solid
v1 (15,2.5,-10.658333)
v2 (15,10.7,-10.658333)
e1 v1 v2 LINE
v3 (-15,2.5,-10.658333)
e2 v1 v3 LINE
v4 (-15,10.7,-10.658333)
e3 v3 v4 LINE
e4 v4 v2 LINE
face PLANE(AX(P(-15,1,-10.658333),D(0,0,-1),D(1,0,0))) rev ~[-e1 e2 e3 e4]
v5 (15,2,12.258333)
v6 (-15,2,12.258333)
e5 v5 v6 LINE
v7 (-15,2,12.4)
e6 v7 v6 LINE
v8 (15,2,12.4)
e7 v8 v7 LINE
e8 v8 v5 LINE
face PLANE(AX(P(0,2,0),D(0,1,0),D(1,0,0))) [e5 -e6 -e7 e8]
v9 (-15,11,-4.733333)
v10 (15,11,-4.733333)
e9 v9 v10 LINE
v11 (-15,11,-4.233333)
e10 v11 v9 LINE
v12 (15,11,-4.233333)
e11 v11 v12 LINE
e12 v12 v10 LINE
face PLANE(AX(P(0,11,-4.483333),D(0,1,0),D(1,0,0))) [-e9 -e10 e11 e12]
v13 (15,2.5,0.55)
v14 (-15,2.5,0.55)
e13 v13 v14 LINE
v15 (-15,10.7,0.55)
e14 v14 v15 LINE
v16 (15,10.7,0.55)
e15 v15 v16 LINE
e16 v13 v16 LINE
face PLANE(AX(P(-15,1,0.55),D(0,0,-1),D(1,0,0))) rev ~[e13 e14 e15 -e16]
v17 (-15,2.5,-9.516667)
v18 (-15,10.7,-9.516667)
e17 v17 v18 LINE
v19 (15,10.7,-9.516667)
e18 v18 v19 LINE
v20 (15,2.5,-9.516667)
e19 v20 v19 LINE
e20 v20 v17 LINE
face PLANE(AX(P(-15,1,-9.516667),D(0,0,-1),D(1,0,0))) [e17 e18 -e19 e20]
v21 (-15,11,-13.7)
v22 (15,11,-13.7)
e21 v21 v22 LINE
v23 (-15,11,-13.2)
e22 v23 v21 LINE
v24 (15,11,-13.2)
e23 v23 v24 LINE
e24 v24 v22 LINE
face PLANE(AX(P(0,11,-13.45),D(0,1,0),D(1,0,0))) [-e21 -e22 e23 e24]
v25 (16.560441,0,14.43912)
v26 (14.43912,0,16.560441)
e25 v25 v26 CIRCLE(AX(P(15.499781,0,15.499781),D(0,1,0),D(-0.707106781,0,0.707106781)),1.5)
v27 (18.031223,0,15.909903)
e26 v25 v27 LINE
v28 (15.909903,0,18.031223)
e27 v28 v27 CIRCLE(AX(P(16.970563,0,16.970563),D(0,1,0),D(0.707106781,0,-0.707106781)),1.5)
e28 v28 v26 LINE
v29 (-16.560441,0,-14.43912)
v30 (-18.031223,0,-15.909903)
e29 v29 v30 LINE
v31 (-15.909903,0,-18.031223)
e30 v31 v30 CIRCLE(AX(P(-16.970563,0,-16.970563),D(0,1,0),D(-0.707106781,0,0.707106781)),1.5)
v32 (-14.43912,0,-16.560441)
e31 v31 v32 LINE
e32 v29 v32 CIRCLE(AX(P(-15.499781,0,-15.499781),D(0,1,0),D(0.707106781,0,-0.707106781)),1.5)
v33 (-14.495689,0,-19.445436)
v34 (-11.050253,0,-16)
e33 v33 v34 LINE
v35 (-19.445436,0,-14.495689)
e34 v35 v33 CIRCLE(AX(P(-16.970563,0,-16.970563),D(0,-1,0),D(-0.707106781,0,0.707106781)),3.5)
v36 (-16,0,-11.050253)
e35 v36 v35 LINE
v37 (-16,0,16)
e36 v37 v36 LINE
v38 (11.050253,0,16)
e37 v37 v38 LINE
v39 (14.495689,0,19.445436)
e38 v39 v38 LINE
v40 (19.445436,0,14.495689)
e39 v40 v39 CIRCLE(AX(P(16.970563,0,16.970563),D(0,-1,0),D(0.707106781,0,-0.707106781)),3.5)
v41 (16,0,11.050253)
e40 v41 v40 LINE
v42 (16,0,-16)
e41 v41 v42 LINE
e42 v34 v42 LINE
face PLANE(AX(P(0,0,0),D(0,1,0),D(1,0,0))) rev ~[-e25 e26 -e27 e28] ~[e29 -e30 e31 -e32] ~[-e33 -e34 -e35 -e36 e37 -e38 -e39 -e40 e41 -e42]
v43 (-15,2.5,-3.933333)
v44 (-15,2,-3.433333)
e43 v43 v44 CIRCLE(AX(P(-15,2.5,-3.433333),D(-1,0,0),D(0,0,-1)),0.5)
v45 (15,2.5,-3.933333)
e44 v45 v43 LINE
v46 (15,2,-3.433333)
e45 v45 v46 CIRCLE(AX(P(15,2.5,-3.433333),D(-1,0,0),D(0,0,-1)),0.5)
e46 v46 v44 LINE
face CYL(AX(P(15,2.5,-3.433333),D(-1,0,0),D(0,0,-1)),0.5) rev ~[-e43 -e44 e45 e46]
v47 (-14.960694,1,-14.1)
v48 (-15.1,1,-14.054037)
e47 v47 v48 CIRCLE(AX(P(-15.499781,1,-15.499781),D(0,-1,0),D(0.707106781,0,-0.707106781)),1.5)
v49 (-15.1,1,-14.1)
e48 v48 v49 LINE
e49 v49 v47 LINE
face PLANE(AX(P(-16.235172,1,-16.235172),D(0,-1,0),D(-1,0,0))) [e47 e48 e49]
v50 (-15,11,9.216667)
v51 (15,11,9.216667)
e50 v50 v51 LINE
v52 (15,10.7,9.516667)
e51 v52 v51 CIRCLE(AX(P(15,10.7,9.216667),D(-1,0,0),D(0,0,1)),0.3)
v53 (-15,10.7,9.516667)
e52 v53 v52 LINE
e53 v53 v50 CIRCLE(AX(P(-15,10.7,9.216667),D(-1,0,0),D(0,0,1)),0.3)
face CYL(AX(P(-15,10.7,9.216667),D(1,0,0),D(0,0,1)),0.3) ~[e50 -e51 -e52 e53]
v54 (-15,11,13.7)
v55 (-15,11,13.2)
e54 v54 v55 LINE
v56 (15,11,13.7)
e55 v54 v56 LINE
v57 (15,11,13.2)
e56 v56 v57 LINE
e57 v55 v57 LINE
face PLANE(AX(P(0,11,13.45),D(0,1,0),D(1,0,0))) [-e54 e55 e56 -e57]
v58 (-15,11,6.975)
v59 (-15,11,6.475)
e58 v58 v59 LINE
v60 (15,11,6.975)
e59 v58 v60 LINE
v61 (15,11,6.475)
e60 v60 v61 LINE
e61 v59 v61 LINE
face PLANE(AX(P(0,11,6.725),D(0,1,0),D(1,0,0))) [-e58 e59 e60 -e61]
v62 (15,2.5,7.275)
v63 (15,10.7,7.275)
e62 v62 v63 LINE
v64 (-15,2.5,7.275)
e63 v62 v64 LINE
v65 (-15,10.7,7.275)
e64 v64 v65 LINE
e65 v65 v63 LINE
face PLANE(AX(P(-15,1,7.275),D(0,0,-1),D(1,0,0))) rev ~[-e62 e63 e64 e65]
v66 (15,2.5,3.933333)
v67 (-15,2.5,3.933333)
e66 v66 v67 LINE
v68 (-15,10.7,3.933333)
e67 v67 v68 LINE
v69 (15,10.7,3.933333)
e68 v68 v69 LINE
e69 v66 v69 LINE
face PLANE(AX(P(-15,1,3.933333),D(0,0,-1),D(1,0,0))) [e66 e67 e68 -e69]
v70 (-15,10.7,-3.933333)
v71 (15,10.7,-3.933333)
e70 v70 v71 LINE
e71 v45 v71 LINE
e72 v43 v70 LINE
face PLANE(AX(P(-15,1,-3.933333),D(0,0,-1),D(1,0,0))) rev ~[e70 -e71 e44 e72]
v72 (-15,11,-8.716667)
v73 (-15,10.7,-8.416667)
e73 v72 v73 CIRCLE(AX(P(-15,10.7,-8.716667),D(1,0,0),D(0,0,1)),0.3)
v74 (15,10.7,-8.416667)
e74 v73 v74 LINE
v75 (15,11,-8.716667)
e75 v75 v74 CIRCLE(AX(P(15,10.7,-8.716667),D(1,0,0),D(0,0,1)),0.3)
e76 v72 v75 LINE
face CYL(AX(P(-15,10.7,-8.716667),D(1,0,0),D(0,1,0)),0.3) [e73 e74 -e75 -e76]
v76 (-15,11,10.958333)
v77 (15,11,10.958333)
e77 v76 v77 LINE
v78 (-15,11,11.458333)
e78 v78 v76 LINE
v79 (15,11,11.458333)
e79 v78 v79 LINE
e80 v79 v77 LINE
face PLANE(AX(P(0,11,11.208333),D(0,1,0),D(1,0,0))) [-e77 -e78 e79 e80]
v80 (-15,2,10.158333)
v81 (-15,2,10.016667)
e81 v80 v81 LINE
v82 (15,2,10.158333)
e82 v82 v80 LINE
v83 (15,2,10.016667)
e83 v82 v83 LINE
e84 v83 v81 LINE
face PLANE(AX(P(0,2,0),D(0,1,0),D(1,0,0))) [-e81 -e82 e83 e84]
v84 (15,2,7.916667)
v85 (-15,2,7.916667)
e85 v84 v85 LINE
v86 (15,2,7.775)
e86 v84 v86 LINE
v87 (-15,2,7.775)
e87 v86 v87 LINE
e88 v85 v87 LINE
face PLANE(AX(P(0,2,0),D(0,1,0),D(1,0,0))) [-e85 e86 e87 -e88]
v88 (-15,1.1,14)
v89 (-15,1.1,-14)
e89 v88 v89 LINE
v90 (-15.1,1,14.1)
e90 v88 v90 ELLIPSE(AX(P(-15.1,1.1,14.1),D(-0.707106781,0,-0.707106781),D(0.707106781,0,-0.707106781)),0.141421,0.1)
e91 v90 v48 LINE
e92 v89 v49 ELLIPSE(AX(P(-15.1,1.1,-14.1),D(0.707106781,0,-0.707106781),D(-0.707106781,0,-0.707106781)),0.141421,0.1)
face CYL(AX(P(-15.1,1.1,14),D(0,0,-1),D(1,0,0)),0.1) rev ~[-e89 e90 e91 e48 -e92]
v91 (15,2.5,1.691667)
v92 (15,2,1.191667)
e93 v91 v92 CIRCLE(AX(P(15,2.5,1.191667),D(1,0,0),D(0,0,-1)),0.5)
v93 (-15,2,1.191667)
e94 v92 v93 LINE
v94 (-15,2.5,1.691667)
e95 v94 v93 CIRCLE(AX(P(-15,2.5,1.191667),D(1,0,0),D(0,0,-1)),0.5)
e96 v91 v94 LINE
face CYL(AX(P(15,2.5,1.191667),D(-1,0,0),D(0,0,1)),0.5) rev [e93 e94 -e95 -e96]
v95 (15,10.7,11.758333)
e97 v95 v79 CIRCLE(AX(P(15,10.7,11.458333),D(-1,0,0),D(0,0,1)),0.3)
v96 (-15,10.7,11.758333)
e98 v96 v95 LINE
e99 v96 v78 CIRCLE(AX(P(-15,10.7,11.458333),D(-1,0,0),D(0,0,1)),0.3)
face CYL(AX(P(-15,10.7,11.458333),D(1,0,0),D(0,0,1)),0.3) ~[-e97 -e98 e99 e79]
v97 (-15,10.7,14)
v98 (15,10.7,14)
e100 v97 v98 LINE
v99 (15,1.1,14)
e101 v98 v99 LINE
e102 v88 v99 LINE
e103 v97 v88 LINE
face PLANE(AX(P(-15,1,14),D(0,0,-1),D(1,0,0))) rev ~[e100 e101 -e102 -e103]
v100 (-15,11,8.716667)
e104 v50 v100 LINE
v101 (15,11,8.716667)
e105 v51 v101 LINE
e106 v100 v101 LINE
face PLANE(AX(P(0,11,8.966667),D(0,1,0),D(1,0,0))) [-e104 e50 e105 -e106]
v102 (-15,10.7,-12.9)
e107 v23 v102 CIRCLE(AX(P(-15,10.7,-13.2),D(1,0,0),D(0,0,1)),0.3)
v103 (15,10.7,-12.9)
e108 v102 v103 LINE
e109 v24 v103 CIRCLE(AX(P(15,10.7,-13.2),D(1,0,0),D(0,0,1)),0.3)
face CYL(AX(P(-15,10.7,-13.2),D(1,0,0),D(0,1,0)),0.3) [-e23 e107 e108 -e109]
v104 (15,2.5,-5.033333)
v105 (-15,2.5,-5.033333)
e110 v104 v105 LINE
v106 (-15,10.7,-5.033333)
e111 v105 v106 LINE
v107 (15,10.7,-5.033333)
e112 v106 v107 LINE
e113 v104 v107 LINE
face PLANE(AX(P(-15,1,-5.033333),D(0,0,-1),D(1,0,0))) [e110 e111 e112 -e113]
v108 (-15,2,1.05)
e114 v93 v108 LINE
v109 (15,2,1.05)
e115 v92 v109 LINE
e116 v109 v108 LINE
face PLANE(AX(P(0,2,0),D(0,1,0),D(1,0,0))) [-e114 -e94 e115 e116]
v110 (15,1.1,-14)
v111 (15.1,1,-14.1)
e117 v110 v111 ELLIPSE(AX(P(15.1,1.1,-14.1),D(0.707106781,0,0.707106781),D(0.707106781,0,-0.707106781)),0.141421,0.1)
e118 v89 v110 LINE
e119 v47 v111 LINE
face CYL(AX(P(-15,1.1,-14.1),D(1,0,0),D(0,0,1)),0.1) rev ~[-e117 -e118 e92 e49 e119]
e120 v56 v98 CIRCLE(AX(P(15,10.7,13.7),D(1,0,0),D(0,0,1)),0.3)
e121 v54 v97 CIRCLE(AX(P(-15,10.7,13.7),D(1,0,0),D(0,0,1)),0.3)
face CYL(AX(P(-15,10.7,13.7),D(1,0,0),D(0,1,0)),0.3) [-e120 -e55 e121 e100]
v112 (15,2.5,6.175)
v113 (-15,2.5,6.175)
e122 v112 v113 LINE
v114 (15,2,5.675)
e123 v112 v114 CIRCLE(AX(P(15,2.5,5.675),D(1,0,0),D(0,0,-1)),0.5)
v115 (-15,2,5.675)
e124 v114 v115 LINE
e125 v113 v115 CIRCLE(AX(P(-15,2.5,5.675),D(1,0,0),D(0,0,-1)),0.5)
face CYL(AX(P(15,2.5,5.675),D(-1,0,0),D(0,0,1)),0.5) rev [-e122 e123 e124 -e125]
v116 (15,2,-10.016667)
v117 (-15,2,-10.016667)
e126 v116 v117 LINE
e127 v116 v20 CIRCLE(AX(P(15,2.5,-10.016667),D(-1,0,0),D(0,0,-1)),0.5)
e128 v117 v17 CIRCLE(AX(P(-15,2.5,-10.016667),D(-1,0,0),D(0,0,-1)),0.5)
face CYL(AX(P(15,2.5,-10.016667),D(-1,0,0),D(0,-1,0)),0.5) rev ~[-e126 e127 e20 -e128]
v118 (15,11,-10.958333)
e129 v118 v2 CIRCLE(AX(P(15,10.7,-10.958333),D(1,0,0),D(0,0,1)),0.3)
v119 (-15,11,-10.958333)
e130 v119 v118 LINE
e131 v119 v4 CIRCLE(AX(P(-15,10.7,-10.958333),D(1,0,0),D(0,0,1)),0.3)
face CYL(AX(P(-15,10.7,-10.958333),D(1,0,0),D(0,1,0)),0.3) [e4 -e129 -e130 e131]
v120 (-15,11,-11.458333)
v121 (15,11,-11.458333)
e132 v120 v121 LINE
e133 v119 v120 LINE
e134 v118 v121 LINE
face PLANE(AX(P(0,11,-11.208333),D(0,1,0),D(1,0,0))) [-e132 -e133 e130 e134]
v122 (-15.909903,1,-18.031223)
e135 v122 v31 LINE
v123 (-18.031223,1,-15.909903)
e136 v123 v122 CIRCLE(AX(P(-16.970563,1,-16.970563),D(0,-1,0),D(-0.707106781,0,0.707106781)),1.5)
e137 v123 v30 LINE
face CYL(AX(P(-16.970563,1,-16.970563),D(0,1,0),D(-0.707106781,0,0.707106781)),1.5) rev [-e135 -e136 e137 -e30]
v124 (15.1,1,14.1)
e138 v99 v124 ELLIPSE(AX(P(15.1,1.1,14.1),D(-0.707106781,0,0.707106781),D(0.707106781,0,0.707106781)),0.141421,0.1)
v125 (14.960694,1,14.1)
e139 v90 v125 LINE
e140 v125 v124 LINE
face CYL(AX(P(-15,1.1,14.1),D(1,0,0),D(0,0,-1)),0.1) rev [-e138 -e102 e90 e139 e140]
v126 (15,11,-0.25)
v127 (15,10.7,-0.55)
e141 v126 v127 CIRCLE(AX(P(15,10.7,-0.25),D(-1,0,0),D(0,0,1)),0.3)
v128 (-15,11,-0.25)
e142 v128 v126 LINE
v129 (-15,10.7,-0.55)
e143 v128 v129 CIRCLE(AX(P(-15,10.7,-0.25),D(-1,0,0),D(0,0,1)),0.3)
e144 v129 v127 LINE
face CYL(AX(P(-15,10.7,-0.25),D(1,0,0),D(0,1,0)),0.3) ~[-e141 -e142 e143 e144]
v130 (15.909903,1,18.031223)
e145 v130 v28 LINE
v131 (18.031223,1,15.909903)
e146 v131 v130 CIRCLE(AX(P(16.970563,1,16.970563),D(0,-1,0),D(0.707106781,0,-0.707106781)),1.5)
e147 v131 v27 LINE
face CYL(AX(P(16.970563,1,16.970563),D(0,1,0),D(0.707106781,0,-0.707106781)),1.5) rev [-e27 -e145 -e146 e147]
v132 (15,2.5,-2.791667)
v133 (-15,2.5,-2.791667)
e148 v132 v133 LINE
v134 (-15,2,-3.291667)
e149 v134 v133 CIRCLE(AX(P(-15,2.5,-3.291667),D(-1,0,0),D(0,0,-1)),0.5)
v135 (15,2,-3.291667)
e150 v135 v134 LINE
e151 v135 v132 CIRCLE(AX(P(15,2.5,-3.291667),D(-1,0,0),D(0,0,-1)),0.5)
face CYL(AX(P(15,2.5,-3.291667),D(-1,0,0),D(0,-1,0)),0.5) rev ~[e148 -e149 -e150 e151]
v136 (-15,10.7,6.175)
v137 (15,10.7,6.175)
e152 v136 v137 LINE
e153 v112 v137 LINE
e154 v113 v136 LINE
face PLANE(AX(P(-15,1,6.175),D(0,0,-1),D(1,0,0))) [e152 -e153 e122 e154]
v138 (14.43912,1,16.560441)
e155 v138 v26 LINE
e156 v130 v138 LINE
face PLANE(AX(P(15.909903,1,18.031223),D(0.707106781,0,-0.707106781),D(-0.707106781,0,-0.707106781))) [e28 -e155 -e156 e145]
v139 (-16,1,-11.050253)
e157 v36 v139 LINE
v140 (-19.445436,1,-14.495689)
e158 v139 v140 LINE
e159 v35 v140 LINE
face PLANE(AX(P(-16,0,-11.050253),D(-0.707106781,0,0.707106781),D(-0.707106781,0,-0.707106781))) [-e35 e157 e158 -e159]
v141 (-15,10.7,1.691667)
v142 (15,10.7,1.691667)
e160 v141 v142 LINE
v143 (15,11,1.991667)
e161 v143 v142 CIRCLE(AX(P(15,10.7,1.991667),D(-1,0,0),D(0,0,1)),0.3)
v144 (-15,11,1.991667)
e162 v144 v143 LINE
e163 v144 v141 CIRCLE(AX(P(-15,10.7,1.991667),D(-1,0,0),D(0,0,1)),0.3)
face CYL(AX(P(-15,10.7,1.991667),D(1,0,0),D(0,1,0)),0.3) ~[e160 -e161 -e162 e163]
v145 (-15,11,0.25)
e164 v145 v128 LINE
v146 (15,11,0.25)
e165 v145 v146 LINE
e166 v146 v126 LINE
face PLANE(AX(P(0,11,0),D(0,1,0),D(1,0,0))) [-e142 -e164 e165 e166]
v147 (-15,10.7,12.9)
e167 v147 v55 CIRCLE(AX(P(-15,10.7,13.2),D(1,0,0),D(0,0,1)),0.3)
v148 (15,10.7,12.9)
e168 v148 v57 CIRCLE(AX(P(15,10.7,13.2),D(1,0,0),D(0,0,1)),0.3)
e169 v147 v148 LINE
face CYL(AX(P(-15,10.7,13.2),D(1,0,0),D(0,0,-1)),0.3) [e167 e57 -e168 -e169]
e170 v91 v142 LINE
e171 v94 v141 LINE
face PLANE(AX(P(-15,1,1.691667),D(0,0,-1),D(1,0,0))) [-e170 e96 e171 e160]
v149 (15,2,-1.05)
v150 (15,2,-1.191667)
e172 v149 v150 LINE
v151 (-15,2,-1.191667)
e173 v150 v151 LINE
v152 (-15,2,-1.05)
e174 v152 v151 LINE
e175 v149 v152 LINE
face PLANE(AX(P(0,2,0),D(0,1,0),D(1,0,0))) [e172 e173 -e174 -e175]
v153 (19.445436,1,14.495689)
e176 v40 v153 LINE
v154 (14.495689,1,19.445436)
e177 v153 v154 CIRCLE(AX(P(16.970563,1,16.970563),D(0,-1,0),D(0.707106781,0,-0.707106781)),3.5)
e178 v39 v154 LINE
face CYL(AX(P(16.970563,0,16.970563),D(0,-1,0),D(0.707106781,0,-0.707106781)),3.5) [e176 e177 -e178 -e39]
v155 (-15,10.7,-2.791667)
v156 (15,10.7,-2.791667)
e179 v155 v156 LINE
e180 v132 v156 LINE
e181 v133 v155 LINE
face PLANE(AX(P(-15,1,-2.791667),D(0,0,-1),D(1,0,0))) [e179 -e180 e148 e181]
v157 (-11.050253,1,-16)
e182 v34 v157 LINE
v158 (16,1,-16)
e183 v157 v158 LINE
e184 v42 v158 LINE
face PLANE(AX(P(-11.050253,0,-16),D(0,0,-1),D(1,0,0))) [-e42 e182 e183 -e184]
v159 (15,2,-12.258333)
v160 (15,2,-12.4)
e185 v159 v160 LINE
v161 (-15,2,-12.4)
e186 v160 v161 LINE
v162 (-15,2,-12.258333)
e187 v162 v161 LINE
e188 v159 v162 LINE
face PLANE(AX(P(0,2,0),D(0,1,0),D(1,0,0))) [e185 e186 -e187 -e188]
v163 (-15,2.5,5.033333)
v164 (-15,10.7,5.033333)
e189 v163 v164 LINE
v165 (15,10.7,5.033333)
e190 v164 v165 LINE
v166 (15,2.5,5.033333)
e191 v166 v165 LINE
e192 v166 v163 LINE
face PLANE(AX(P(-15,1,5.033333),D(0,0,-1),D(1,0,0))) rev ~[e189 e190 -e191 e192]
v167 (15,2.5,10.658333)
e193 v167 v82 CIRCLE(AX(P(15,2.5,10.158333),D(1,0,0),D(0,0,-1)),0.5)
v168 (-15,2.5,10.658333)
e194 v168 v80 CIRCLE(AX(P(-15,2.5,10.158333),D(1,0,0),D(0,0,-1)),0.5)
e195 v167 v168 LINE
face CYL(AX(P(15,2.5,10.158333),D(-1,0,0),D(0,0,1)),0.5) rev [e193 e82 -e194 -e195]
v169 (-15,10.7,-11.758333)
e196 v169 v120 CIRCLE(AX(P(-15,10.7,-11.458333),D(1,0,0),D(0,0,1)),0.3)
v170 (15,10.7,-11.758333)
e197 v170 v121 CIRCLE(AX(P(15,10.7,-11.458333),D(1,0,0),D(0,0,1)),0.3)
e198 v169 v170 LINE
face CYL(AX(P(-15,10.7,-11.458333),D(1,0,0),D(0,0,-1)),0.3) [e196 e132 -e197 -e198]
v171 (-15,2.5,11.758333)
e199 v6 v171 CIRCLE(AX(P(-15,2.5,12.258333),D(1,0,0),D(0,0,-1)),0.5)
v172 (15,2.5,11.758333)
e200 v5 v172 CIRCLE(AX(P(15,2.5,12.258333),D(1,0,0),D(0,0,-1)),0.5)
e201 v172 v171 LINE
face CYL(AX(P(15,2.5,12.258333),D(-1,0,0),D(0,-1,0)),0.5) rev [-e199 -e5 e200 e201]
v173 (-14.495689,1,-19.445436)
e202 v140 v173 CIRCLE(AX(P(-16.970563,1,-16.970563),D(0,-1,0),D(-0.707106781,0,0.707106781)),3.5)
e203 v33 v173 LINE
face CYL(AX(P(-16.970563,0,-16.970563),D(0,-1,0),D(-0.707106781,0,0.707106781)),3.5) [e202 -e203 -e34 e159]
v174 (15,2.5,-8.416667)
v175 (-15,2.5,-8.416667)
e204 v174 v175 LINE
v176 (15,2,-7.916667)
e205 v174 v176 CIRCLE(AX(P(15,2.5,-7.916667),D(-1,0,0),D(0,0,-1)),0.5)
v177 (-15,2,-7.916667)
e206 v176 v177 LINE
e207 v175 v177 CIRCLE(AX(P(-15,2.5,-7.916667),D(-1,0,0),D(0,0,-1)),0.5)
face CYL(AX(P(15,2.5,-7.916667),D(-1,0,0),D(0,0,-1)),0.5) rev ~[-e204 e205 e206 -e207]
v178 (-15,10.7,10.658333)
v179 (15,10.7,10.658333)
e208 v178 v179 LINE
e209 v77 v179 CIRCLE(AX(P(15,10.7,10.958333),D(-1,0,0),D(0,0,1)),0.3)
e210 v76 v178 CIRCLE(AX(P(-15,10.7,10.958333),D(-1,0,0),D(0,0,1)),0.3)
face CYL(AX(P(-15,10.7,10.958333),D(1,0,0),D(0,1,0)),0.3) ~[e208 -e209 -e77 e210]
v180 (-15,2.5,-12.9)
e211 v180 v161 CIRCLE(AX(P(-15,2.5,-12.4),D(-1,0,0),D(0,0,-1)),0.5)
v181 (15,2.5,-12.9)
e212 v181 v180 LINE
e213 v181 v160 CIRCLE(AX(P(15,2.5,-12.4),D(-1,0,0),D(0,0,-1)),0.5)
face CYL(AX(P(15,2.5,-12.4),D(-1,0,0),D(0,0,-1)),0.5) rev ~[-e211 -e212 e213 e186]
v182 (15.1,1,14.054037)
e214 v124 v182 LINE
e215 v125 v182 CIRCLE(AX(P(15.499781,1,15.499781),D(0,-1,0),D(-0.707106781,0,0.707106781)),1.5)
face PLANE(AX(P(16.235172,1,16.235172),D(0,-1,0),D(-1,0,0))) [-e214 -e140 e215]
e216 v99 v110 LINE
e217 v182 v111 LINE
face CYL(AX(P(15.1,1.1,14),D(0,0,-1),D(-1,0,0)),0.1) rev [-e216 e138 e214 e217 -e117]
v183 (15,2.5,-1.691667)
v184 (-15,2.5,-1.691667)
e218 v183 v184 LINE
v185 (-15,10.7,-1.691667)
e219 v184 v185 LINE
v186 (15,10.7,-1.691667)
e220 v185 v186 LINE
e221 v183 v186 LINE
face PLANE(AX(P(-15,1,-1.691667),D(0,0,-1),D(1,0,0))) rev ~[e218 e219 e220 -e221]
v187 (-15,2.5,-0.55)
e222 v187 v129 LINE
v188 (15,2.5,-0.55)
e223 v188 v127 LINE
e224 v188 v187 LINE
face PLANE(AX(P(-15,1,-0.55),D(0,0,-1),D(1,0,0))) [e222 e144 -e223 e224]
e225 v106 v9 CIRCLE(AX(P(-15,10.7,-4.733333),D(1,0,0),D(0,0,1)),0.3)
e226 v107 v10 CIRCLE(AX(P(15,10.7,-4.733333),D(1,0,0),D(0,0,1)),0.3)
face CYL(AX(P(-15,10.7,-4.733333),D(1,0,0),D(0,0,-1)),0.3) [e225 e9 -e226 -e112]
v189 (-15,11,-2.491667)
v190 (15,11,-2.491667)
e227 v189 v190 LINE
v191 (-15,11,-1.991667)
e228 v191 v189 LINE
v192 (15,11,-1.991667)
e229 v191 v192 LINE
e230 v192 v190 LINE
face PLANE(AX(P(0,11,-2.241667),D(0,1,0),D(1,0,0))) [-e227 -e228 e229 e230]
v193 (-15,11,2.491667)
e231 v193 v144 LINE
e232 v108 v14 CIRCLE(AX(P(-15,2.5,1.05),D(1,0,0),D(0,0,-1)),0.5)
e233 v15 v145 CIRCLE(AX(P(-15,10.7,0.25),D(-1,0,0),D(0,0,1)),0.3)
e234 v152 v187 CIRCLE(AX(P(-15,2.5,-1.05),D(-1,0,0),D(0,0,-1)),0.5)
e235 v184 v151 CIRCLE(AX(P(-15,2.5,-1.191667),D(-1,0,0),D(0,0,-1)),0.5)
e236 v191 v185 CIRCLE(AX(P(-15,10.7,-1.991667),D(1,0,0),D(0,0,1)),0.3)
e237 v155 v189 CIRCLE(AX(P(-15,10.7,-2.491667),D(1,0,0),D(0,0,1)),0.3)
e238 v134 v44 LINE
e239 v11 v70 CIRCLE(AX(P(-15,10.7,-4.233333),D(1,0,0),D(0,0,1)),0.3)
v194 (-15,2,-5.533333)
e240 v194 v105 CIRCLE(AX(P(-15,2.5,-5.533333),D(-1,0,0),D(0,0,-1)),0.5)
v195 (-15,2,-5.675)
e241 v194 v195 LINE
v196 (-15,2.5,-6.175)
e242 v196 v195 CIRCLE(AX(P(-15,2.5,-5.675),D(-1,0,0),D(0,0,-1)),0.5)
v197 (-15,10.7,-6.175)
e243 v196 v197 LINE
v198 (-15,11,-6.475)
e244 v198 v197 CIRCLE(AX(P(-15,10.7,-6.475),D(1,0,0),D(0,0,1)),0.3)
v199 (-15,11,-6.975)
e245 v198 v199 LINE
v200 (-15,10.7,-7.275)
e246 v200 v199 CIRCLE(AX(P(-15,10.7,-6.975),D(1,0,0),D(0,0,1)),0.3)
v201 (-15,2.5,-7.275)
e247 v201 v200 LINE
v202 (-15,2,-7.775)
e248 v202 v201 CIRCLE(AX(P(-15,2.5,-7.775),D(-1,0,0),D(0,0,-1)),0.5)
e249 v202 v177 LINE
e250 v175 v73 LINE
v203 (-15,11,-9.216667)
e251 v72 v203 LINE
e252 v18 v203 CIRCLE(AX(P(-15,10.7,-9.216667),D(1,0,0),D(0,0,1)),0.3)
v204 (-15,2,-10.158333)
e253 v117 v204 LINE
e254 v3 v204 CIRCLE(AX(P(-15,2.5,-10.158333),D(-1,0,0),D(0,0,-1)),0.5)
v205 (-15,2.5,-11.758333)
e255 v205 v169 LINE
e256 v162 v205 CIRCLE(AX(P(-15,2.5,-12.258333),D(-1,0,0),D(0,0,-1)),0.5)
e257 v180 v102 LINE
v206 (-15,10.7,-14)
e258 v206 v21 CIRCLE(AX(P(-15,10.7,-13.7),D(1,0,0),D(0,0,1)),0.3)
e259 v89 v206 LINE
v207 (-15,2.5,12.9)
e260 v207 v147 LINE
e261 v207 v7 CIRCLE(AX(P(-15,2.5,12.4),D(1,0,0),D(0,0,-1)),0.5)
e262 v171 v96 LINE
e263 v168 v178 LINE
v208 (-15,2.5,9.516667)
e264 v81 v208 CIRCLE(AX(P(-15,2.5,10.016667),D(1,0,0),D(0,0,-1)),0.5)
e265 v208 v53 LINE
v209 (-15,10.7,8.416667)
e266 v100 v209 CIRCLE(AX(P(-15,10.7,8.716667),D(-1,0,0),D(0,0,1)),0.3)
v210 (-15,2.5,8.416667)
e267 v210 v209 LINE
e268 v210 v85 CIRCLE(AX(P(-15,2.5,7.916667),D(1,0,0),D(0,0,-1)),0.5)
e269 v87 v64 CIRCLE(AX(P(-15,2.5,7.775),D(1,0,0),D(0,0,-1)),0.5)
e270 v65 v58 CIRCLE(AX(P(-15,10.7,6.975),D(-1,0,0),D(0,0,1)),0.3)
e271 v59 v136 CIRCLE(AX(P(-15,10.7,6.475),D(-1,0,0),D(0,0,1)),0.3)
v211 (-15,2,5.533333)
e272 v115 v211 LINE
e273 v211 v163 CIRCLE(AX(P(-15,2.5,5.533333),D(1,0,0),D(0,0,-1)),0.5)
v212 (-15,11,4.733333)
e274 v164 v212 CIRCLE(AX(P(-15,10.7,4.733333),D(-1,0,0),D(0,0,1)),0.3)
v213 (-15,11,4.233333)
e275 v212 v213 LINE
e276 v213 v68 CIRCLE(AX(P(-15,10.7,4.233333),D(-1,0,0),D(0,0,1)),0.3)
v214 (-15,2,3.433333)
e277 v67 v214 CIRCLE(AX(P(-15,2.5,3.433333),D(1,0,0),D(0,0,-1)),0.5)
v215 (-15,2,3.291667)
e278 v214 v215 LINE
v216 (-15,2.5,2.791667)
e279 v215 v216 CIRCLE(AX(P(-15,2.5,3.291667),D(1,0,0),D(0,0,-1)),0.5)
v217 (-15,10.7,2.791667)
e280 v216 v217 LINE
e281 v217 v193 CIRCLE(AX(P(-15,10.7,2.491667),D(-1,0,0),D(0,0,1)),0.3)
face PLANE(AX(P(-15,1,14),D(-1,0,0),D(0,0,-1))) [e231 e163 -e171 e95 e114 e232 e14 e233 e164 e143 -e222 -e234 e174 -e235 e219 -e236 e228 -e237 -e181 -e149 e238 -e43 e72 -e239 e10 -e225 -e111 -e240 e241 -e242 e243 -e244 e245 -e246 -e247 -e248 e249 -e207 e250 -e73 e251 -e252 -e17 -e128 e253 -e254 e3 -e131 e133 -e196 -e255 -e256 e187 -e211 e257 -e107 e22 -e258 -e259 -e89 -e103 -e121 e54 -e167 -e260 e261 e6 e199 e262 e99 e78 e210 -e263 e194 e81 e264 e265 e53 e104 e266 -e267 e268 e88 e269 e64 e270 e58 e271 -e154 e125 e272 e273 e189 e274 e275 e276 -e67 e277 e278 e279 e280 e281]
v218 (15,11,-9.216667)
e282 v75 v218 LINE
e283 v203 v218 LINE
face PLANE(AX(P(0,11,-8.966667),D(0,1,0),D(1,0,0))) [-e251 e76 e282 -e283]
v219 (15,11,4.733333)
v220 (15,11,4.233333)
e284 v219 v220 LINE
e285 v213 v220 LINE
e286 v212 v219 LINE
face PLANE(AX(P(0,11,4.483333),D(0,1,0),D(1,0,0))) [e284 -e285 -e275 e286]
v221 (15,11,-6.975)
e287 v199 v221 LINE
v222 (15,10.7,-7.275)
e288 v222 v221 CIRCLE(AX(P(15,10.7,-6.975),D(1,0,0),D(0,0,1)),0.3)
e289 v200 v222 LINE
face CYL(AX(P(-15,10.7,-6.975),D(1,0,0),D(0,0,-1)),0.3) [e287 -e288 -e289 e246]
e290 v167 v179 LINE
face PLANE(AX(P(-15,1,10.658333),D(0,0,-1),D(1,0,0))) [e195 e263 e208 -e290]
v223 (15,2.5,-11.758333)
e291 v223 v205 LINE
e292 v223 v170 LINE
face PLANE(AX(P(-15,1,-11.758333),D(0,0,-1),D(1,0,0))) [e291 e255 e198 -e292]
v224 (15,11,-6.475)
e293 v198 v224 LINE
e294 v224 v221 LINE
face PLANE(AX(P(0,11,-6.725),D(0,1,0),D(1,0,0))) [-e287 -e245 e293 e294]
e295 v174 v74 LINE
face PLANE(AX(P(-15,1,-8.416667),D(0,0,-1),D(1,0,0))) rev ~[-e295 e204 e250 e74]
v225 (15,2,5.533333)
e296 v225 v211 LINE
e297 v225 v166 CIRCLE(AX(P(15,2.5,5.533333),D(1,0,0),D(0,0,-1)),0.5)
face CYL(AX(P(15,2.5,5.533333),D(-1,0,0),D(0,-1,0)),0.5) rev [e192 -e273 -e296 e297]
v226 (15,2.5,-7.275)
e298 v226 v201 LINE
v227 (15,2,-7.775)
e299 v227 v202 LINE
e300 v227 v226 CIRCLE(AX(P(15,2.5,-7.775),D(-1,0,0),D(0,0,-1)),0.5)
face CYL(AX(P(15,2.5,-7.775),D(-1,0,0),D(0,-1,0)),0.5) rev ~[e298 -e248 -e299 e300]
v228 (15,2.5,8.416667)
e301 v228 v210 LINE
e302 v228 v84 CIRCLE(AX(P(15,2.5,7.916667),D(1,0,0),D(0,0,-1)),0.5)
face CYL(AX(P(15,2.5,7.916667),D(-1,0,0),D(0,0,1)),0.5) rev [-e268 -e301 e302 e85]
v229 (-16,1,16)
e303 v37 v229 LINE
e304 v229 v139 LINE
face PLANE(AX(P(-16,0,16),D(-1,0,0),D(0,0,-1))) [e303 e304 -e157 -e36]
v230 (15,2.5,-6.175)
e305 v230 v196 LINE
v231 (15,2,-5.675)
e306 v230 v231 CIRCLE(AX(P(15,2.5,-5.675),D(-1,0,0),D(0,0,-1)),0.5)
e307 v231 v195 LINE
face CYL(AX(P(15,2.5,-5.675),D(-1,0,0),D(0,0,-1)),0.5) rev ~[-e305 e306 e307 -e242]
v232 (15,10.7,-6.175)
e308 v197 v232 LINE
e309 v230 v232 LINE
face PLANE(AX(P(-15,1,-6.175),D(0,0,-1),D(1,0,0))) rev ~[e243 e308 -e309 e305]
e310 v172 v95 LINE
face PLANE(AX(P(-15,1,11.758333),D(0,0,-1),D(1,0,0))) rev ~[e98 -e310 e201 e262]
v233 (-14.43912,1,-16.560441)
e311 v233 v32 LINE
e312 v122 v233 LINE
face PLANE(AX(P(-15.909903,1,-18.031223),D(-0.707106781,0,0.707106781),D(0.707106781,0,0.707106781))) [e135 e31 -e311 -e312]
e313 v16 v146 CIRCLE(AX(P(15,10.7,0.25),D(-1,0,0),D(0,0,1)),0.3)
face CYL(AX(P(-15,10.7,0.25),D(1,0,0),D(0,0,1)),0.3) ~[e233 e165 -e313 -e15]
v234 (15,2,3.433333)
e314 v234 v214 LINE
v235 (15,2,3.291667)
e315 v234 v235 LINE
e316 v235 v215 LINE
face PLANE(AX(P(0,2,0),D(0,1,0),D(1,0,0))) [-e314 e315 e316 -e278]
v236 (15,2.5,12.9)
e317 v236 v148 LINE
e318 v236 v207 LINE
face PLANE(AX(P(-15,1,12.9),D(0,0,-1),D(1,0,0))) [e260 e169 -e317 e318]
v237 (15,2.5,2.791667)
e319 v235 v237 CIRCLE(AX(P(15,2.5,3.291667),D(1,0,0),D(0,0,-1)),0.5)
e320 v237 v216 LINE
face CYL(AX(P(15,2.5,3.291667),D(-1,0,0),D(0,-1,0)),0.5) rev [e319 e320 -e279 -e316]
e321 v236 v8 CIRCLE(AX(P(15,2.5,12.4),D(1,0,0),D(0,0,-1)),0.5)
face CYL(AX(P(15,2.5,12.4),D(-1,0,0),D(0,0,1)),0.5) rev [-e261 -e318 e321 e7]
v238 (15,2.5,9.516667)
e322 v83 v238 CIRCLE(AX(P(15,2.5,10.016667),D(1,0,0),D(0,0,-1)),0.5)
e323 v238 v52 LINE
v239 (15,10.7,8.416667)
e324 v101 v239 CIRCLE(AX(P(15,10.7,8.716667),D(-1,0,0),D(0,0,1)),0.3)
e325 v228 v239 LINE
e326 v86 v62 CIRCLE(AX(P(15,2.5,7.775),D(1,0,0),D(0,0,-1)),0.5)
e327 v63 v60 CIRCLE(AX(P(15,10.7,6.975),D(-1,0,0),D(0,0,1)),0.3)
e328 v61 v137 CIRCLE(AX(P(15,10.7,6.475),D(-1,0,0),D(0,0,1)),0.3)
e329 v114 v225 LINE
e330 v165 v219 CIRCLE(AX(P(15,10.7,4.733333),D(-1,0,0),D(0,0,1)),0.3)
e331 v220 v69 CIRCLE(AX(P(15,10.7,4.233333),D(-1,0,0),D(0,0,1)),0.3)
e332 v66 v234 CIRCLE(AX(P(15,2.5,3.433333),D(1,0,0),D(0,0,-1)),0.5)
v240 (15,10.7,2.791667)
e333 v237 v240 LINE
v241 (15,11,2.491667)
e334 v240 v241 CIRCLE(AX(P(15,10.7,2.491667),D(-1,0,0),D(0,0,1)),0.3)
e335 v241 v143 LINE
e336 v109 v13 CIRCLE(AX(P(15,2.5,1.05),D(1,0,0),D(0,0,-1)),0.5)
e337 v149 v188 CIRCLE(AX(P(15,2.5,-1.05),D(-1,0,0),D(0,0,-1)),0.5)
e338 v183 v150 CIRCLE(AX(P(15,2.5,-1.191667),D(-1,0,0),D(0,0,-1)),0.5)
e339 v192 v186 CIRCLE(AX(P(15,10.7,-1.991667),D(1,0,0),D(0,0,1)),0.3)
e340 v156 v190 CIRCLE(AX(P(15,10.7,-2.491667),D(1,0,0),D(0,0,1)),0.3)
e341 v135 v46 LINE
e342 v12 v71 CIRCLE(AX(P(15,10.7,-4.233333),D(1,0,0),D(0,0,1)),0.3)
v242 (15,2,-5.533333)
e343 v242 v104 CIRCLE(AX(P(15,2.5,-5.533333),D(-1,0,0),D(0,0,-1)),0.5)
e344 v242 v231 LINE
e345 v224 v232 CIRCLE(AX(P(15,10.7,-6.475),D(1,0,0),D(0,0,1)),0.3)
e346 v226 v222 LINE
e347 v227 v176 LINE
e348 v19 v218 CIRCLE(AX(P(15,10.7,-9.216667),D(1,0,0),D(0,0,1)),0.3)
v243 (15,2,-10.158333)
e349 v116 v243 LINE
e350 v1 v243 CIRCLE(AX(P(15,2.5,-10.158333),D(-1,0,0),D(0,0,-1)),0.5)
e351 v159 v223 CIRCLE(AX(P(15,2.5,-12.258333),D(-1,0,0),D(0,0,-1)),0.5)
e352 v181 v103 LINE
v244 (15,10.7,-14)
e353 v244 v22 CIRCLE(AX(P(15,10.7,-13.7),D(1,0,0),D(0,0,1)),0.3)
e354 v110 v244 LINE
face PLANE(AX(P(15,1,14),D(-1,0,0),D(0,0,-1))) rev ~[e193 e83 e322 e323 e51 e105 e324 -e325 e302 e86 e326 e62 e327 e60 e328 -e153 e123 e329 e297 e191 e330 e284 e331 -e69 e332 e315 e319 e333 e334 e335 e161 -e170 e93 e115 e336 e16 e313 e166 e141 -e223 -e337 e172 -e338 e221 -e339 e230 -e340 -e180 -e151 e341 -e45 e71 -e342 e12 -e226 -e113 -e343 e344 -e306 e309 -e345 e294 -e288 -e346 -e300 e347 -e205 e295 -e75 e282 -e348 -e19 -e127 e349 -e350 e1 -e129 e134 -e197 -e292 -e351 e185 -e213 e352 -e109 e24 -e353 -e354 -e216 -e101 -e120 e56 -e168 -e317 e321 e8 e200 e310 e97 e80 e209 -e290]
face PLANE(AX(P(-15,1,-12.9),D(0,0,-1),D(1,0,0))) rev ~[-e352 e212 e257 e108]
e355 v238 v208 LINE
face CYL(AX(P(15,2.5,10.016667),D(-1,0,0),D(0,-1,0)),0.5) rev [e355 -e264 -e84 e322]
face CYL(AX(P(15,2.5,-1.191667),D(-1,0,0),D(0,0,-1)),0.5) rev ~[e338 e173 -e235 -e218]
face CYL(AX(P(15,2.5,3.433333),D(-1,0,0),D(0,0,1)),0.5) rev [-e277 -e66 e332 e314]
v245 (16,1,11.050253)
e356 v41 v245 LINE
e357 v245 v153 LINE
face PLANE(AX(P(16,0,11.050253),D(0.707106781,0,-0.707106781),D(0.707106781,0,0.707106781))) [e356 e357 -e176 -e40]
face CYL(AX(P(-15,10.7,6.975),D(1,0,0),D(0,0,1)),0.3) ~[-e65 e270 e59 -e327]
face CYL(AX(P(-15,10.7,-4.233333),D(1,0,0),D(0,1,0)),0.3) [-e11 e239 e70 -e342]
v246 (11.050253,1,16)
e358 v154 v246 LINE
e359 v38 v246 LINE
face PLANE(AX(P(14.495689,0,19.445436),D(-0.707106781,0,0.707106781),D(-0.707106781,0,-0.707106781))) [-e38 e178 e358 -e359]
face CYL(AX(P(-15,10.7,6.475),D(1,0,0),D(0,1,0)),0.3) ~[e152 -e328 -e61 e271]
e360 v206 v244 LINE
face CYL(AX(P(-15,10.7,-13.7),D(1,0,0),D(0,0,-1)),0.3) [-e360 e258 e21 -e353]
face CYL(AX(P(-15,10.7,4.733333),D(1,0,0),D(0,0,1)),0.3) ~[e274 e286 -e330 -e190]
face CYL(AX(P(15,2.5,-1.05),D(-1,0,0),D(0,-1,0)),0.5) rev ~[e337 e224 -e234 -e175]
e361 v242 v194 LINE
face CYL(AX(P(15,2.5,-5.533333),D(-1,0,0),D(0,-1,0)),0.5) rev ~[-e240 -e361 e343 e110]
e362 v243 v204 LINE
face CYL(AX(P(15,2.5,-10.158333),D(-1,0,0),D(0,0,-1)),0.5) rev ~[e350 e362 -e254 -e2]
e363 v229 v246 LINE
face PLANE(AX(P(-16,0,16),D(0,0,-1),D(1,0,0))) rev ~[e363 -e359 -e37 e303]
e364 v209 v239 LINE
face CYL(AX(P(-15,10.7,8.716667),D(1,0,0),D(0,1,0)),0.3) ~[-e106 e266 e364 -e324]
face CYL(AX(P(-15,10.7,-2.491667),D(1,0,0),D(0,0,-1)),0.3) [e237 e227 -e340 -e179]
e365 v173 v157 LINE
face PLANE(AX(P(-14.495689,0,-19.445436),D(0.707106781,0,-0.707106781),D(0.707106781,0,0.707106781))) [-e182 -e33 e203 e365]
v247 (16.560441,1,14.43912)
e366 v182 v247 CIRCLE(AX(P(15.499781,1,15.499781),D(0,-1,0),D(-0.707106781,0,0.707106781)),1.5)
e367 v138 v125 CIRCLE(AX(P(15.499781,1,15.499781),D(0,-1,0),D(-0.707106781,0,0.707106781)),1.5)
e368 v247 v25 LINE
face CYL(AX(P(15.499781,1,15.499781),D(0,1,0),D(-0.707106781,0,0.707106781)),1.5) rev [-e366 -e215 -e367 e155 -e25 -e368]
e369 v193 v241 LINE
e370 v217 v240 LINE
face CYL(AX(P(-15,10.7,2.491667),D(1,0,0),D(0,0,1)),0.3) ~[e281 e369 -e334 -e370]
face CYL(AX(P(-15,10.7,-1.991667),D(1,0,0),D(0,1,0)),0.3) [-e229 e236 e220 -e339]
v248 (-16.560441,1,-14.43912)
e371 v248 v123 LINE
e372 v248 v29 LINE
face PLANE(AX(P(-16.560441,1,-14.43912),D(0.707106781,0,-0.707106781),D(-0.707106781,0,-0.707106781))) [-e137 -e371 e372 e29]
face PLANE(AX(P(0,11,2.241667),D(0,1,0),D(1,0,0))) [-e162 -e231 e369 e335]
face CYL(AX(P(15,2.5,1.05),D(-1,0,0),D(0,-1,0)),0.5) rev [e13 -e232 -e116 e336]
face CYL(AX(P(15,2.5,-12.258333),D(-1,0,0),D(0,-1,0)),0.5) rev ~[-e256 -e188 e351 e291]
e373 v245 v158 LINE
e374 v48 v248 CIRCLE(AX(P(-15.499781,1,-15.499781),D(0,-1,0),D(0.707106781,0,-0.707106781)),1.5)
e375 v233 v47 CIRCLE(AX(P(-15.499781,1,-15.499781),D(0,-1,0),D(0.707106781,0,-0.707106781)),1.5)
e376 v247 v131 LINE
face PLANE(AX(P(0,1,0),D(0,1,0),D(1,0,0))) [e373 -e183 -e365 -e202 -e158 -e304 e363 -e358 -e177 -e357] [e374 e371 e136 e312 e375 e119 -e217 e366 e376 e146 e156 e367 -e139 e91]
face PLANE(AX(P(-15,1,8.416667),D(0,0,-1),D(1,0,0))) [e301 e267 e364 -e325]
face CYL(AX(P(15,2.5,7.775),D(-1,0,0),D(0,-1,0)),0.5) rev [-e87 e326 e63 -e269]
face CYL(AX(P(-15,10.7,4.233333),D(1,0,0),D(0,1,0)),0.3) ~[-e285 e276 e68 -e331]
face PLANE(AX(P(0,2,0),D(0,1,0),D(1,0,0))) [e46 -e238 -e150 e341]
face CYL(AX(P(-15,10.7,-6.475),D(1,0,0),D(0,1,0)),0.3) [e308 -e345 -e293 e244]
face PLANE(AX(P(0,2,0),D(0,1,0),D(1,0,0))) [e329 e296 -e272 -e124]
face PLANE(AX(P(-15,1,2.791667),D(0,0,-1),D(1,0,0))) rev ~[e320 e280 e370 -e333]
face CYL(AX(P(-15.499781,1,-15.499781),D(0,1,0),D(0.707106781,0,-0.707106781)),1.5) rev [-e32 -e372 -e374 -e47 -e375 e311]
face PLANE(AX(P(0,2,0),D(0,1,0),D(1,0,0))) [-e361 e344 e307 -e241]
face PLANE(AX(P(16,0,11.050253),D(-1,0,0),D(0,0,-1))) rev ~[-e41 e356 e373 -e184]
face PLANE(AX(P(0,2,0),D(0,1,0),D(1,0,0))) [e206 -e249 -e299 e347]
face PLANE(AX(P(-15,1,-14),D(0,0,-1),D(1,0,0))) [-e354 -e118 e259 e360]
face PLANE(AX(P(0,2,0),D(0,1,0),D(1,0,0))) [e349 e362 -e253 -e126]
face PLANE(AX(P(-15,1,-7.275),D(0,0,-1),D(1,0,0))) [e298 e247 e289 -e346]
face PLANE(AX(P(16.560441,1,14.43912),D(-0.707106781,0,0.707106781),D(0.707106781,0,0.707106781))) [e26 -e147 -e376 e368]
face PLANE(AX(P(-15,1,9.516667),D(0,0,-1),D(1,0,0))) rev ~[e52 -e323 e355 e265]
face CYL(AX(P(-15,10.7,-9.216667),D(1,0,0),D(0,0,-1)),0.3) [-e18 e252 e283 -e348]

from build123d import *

# Parameters (mm, degrees)
SZKIC1_W                    = 32
SZKIC1_H                    = 32
DODANIE_WYCI_GNI_CIE2_DEPTH = 1
SZKIC3_W                    = 30
SZKIC3_H                    = 28
DODANIE_WYCI_GNI_CIE3_DEPTH = 1
SZKIC2_W                    = 30
SZKIC2_H                    = 1.1
DODANIE_WYCI_GNI_CIE4_DEPTH = 10
ZAOKR_GLENIE1_R             = 0.1
ZAOKR_GLENIE3_R             = 0.5
ZAOKR_GLENIE4_R             = 0.3
WYTNIJ_WYCI_GNI_CIE1_DEPTH  = 2


with BuildPart() as part:
    # Szkic1 → Dodanie-wyciągnięcie2 (new body)
    with BuildSketch(Plane(origin=(0, 0, 0), x_dir=(1, 0, 0), z_dir=(0, 1, 0))):
        Rectangle(SZKIC1_W, SZKIC1_H)
        with BuildLine():
            Line((-14.495689014, 19.445436483), (19.445436483, -14.495689014))
            ThreePointArc((19.445436483, -14.495689014), (19.445436483, -19.445436483), (14.495689014, -19.445436483))
            Line((14.495689014, -19.445436483), (-19.445436483, 14.495689014))
            ThreePointArc((-19.445436483, 14.495689014), (-19.445436483, 19.445436483), (-14.495689014, 19.445436483))
        make_face()
    extrude(amount=DODANIE_WYCI_GNI_CIE2_DEPTH)

    # Szkic3 → Dodanie-wyciągnięcie3 (add)
    with BuildSketch(Plane(origin=(0, 1, 0), x_dir=(1, 0, 0), z_dir=(0, 1, 0))):
        Rectangle(SZKIC3_W, SZKIC3_H)
    extrude(amount=DODANIE_WYCI_GNI_CIE3_DEPTH)

    # Szkic2 → Dodanie-wyciągnięcie4 (add)
    with BuildSketch(Plane(origin=(0, 1, 0), x_dir=(1, 0, 0), z_dir=(0, 1, 0))):
        with Locations((0, 13.45)):
            Rectangle(SZKIC2_W, SZKIC2_H)
        with Locations((0, 11.208333333)):
            Rectangle(SZKIC2_W, SZKIC2_H)
        with Locations((0, 8.966666667)):
            Rectangle(SZKIC2_W, SZKIC2_H)
        with Locations((0, 6.725)):
            Rectangle(SZKIC2_W, SZKIC2_H)
        with Locations((0, 4.483333333)):
            Rectangle(SZKIC2_W, SZKIC2_H)
        with Locations((0, 2.241666667)):
            Rectangle(SZKIC2_W, SZKIC2_H)
        Rectangle(SZKIC2_W, SZKIC2_H)
        with Locations((0, -2.241666667)):
            Rectangle(SZKIC2_W, SZKIC2_H)
        with Locations((0, -4.483333333)):
            Rectangle(SZKIC2_W, SZKIC2_H)
        with Locations((0, -6.725)):
            Rectangle(SZKIC2_W, SZKIC2_H)
        with Locations((0, -8.966666667)):
            Rectangle(SZKIC2_W, SZKIC2_H)
        with Locations((0, -11.208333333)):
            Rectangle(SZKIC2_W, SZKIC2_H)
        with Locations((0, -13.45)):
            Rectangle(SZKIC2_W, SZKIC2_H)
    extrude(amount=DODANIE_WYCI_GNI_CIE4_DEPTH)

    # Zaokrąglenie1
    zaokr_glenie1_edges = [part.edges().sort_by_distance(p)[0] for p in [
        (-15, 1, 0),
        (0, 1, 14),
        (15, 1, 0),
        (0, 1, -14),
    ]]
    fillet(zaokr_glenie1_edges, radius=ZAOKR_GLENIE1_R)

    # Zaokrąglenie3
    zaokr_glenie3_edges = [part.edges().sort_by_distance(p)[0] for p in [
        (0, 2, -6.175),
        (0, 2, -7.275),
        (0, 2, -3.933333333),
        (0, 2, -5.033333333),
        (0, 2, -1.691666667),
        (0, 2, -2.791666667),
        (0, 2, 0.55),
        (0, 2, -0.55),
        (0, 2, 2.791666667),
        (0, 2, 1.691666667),
        (0, 2, 5.033333333),
        (0, 2, 3.933333333),
        (0, 2, 7.275),
        (0, 2, 6.175),
        (0, 2, 9.516666667),
        (0, 2, 8.416666667),
        (0, 2, 11.758333333),
        (0, 2, 10.658333333),
        (0, 2, 12.9),
        (0, 2, -12.9),
        (0, 2, -10.658333333),
        (0, 2, -11.758333333),
        (0, 2, -8.416666667),
        (0, 2, -9.516666667),
    ]]
    fillet(zaokr_glenie3_edges, radius=ZAOKR_GLENIE3_R)

    # Zaokrąglenie4
    zaokr_glenie4_edges = [part.edges().sort_by_distance(p)[0] for p in [
        (0, 11, -6.175),
        (0, 11, -7.275),
        (0, 11, -3.933333333),
        (0, 11, -5.033333333),
        (0, 11, -1.691666667),
        (0, 11, -2.791666667),
        (0, 11, 0.55),
        (0, 11, -0.55),
        (0, 11, 2.791666667),
        (0, 11, 1.691666667),
        (0, 11, 5.033333333),
        (0, 11, 3.933333333),
        (0, 11, 7.275),
        (0, 11, 6.175),
        (0, 11, 9.516666667),
        (0, 11, 8.416666667),
        (0, 11, 11.758333333),
        (0, 11, 10.658333333),
        (0, 11, 14),
        (0, 11, 12.9),
        (0, 11, -12.9),
        (0, 11, -14),
        (0, 11, -10.658333333),
        (0, 11, -11.758333333),
        (0, 11, -8.416666667),
        (0, 11, -9.516666667),
    ]]
    fillet(zaokr_glenie4_edges, radius=ZAOKR_GLENIE4_R)

    # Szkic4 → Wytnij-wyciągnięcie1 (cut, through all)
    with BuildSketch(Plane(origin=(0, 1, 0), x_dir=(1, 0, 0), z_dir=(0, 1, 0))):
        with BuildLine():
            Line((-15.909902577, 18.03122292), (-14.439120472, 16.560440815))
            ThreePointArc((-14.439120472, 16.560440815), (-14.439120472, 14.439120472), (-16.560440815, 14.439120472))
            Line((-16.560440815, 14.439120472), (-18.03122292, 15.909902577))
            ThreePointArc((-18.03122292, 15.909902577), (-18.03122292, 18.03122292), (-15.909902577, 18.03122292))
        make_face()
        with BuildLine():
            Line((15.909902577, -18.03122292), (14.439120472, -16.560440815))
            ThreePointArc((14.439120472, -16.560440815), (14.439120472, -14.439120472), (16.560440815, -14.439120472))
            Line((16.560440815, -14.439120472), (18.03122292, -15.909902577))
            ThreePointArc((18.03122292, -15.909902577), (18.03122292, -18.03122292), (15.909902577, -18.03122292))
        make_face()
    extrude(amount=-WYTNIJ_WYCI_GNI_CIE1_DEPTH, mode=Mode.SUBTRACT)


solid = part.part
